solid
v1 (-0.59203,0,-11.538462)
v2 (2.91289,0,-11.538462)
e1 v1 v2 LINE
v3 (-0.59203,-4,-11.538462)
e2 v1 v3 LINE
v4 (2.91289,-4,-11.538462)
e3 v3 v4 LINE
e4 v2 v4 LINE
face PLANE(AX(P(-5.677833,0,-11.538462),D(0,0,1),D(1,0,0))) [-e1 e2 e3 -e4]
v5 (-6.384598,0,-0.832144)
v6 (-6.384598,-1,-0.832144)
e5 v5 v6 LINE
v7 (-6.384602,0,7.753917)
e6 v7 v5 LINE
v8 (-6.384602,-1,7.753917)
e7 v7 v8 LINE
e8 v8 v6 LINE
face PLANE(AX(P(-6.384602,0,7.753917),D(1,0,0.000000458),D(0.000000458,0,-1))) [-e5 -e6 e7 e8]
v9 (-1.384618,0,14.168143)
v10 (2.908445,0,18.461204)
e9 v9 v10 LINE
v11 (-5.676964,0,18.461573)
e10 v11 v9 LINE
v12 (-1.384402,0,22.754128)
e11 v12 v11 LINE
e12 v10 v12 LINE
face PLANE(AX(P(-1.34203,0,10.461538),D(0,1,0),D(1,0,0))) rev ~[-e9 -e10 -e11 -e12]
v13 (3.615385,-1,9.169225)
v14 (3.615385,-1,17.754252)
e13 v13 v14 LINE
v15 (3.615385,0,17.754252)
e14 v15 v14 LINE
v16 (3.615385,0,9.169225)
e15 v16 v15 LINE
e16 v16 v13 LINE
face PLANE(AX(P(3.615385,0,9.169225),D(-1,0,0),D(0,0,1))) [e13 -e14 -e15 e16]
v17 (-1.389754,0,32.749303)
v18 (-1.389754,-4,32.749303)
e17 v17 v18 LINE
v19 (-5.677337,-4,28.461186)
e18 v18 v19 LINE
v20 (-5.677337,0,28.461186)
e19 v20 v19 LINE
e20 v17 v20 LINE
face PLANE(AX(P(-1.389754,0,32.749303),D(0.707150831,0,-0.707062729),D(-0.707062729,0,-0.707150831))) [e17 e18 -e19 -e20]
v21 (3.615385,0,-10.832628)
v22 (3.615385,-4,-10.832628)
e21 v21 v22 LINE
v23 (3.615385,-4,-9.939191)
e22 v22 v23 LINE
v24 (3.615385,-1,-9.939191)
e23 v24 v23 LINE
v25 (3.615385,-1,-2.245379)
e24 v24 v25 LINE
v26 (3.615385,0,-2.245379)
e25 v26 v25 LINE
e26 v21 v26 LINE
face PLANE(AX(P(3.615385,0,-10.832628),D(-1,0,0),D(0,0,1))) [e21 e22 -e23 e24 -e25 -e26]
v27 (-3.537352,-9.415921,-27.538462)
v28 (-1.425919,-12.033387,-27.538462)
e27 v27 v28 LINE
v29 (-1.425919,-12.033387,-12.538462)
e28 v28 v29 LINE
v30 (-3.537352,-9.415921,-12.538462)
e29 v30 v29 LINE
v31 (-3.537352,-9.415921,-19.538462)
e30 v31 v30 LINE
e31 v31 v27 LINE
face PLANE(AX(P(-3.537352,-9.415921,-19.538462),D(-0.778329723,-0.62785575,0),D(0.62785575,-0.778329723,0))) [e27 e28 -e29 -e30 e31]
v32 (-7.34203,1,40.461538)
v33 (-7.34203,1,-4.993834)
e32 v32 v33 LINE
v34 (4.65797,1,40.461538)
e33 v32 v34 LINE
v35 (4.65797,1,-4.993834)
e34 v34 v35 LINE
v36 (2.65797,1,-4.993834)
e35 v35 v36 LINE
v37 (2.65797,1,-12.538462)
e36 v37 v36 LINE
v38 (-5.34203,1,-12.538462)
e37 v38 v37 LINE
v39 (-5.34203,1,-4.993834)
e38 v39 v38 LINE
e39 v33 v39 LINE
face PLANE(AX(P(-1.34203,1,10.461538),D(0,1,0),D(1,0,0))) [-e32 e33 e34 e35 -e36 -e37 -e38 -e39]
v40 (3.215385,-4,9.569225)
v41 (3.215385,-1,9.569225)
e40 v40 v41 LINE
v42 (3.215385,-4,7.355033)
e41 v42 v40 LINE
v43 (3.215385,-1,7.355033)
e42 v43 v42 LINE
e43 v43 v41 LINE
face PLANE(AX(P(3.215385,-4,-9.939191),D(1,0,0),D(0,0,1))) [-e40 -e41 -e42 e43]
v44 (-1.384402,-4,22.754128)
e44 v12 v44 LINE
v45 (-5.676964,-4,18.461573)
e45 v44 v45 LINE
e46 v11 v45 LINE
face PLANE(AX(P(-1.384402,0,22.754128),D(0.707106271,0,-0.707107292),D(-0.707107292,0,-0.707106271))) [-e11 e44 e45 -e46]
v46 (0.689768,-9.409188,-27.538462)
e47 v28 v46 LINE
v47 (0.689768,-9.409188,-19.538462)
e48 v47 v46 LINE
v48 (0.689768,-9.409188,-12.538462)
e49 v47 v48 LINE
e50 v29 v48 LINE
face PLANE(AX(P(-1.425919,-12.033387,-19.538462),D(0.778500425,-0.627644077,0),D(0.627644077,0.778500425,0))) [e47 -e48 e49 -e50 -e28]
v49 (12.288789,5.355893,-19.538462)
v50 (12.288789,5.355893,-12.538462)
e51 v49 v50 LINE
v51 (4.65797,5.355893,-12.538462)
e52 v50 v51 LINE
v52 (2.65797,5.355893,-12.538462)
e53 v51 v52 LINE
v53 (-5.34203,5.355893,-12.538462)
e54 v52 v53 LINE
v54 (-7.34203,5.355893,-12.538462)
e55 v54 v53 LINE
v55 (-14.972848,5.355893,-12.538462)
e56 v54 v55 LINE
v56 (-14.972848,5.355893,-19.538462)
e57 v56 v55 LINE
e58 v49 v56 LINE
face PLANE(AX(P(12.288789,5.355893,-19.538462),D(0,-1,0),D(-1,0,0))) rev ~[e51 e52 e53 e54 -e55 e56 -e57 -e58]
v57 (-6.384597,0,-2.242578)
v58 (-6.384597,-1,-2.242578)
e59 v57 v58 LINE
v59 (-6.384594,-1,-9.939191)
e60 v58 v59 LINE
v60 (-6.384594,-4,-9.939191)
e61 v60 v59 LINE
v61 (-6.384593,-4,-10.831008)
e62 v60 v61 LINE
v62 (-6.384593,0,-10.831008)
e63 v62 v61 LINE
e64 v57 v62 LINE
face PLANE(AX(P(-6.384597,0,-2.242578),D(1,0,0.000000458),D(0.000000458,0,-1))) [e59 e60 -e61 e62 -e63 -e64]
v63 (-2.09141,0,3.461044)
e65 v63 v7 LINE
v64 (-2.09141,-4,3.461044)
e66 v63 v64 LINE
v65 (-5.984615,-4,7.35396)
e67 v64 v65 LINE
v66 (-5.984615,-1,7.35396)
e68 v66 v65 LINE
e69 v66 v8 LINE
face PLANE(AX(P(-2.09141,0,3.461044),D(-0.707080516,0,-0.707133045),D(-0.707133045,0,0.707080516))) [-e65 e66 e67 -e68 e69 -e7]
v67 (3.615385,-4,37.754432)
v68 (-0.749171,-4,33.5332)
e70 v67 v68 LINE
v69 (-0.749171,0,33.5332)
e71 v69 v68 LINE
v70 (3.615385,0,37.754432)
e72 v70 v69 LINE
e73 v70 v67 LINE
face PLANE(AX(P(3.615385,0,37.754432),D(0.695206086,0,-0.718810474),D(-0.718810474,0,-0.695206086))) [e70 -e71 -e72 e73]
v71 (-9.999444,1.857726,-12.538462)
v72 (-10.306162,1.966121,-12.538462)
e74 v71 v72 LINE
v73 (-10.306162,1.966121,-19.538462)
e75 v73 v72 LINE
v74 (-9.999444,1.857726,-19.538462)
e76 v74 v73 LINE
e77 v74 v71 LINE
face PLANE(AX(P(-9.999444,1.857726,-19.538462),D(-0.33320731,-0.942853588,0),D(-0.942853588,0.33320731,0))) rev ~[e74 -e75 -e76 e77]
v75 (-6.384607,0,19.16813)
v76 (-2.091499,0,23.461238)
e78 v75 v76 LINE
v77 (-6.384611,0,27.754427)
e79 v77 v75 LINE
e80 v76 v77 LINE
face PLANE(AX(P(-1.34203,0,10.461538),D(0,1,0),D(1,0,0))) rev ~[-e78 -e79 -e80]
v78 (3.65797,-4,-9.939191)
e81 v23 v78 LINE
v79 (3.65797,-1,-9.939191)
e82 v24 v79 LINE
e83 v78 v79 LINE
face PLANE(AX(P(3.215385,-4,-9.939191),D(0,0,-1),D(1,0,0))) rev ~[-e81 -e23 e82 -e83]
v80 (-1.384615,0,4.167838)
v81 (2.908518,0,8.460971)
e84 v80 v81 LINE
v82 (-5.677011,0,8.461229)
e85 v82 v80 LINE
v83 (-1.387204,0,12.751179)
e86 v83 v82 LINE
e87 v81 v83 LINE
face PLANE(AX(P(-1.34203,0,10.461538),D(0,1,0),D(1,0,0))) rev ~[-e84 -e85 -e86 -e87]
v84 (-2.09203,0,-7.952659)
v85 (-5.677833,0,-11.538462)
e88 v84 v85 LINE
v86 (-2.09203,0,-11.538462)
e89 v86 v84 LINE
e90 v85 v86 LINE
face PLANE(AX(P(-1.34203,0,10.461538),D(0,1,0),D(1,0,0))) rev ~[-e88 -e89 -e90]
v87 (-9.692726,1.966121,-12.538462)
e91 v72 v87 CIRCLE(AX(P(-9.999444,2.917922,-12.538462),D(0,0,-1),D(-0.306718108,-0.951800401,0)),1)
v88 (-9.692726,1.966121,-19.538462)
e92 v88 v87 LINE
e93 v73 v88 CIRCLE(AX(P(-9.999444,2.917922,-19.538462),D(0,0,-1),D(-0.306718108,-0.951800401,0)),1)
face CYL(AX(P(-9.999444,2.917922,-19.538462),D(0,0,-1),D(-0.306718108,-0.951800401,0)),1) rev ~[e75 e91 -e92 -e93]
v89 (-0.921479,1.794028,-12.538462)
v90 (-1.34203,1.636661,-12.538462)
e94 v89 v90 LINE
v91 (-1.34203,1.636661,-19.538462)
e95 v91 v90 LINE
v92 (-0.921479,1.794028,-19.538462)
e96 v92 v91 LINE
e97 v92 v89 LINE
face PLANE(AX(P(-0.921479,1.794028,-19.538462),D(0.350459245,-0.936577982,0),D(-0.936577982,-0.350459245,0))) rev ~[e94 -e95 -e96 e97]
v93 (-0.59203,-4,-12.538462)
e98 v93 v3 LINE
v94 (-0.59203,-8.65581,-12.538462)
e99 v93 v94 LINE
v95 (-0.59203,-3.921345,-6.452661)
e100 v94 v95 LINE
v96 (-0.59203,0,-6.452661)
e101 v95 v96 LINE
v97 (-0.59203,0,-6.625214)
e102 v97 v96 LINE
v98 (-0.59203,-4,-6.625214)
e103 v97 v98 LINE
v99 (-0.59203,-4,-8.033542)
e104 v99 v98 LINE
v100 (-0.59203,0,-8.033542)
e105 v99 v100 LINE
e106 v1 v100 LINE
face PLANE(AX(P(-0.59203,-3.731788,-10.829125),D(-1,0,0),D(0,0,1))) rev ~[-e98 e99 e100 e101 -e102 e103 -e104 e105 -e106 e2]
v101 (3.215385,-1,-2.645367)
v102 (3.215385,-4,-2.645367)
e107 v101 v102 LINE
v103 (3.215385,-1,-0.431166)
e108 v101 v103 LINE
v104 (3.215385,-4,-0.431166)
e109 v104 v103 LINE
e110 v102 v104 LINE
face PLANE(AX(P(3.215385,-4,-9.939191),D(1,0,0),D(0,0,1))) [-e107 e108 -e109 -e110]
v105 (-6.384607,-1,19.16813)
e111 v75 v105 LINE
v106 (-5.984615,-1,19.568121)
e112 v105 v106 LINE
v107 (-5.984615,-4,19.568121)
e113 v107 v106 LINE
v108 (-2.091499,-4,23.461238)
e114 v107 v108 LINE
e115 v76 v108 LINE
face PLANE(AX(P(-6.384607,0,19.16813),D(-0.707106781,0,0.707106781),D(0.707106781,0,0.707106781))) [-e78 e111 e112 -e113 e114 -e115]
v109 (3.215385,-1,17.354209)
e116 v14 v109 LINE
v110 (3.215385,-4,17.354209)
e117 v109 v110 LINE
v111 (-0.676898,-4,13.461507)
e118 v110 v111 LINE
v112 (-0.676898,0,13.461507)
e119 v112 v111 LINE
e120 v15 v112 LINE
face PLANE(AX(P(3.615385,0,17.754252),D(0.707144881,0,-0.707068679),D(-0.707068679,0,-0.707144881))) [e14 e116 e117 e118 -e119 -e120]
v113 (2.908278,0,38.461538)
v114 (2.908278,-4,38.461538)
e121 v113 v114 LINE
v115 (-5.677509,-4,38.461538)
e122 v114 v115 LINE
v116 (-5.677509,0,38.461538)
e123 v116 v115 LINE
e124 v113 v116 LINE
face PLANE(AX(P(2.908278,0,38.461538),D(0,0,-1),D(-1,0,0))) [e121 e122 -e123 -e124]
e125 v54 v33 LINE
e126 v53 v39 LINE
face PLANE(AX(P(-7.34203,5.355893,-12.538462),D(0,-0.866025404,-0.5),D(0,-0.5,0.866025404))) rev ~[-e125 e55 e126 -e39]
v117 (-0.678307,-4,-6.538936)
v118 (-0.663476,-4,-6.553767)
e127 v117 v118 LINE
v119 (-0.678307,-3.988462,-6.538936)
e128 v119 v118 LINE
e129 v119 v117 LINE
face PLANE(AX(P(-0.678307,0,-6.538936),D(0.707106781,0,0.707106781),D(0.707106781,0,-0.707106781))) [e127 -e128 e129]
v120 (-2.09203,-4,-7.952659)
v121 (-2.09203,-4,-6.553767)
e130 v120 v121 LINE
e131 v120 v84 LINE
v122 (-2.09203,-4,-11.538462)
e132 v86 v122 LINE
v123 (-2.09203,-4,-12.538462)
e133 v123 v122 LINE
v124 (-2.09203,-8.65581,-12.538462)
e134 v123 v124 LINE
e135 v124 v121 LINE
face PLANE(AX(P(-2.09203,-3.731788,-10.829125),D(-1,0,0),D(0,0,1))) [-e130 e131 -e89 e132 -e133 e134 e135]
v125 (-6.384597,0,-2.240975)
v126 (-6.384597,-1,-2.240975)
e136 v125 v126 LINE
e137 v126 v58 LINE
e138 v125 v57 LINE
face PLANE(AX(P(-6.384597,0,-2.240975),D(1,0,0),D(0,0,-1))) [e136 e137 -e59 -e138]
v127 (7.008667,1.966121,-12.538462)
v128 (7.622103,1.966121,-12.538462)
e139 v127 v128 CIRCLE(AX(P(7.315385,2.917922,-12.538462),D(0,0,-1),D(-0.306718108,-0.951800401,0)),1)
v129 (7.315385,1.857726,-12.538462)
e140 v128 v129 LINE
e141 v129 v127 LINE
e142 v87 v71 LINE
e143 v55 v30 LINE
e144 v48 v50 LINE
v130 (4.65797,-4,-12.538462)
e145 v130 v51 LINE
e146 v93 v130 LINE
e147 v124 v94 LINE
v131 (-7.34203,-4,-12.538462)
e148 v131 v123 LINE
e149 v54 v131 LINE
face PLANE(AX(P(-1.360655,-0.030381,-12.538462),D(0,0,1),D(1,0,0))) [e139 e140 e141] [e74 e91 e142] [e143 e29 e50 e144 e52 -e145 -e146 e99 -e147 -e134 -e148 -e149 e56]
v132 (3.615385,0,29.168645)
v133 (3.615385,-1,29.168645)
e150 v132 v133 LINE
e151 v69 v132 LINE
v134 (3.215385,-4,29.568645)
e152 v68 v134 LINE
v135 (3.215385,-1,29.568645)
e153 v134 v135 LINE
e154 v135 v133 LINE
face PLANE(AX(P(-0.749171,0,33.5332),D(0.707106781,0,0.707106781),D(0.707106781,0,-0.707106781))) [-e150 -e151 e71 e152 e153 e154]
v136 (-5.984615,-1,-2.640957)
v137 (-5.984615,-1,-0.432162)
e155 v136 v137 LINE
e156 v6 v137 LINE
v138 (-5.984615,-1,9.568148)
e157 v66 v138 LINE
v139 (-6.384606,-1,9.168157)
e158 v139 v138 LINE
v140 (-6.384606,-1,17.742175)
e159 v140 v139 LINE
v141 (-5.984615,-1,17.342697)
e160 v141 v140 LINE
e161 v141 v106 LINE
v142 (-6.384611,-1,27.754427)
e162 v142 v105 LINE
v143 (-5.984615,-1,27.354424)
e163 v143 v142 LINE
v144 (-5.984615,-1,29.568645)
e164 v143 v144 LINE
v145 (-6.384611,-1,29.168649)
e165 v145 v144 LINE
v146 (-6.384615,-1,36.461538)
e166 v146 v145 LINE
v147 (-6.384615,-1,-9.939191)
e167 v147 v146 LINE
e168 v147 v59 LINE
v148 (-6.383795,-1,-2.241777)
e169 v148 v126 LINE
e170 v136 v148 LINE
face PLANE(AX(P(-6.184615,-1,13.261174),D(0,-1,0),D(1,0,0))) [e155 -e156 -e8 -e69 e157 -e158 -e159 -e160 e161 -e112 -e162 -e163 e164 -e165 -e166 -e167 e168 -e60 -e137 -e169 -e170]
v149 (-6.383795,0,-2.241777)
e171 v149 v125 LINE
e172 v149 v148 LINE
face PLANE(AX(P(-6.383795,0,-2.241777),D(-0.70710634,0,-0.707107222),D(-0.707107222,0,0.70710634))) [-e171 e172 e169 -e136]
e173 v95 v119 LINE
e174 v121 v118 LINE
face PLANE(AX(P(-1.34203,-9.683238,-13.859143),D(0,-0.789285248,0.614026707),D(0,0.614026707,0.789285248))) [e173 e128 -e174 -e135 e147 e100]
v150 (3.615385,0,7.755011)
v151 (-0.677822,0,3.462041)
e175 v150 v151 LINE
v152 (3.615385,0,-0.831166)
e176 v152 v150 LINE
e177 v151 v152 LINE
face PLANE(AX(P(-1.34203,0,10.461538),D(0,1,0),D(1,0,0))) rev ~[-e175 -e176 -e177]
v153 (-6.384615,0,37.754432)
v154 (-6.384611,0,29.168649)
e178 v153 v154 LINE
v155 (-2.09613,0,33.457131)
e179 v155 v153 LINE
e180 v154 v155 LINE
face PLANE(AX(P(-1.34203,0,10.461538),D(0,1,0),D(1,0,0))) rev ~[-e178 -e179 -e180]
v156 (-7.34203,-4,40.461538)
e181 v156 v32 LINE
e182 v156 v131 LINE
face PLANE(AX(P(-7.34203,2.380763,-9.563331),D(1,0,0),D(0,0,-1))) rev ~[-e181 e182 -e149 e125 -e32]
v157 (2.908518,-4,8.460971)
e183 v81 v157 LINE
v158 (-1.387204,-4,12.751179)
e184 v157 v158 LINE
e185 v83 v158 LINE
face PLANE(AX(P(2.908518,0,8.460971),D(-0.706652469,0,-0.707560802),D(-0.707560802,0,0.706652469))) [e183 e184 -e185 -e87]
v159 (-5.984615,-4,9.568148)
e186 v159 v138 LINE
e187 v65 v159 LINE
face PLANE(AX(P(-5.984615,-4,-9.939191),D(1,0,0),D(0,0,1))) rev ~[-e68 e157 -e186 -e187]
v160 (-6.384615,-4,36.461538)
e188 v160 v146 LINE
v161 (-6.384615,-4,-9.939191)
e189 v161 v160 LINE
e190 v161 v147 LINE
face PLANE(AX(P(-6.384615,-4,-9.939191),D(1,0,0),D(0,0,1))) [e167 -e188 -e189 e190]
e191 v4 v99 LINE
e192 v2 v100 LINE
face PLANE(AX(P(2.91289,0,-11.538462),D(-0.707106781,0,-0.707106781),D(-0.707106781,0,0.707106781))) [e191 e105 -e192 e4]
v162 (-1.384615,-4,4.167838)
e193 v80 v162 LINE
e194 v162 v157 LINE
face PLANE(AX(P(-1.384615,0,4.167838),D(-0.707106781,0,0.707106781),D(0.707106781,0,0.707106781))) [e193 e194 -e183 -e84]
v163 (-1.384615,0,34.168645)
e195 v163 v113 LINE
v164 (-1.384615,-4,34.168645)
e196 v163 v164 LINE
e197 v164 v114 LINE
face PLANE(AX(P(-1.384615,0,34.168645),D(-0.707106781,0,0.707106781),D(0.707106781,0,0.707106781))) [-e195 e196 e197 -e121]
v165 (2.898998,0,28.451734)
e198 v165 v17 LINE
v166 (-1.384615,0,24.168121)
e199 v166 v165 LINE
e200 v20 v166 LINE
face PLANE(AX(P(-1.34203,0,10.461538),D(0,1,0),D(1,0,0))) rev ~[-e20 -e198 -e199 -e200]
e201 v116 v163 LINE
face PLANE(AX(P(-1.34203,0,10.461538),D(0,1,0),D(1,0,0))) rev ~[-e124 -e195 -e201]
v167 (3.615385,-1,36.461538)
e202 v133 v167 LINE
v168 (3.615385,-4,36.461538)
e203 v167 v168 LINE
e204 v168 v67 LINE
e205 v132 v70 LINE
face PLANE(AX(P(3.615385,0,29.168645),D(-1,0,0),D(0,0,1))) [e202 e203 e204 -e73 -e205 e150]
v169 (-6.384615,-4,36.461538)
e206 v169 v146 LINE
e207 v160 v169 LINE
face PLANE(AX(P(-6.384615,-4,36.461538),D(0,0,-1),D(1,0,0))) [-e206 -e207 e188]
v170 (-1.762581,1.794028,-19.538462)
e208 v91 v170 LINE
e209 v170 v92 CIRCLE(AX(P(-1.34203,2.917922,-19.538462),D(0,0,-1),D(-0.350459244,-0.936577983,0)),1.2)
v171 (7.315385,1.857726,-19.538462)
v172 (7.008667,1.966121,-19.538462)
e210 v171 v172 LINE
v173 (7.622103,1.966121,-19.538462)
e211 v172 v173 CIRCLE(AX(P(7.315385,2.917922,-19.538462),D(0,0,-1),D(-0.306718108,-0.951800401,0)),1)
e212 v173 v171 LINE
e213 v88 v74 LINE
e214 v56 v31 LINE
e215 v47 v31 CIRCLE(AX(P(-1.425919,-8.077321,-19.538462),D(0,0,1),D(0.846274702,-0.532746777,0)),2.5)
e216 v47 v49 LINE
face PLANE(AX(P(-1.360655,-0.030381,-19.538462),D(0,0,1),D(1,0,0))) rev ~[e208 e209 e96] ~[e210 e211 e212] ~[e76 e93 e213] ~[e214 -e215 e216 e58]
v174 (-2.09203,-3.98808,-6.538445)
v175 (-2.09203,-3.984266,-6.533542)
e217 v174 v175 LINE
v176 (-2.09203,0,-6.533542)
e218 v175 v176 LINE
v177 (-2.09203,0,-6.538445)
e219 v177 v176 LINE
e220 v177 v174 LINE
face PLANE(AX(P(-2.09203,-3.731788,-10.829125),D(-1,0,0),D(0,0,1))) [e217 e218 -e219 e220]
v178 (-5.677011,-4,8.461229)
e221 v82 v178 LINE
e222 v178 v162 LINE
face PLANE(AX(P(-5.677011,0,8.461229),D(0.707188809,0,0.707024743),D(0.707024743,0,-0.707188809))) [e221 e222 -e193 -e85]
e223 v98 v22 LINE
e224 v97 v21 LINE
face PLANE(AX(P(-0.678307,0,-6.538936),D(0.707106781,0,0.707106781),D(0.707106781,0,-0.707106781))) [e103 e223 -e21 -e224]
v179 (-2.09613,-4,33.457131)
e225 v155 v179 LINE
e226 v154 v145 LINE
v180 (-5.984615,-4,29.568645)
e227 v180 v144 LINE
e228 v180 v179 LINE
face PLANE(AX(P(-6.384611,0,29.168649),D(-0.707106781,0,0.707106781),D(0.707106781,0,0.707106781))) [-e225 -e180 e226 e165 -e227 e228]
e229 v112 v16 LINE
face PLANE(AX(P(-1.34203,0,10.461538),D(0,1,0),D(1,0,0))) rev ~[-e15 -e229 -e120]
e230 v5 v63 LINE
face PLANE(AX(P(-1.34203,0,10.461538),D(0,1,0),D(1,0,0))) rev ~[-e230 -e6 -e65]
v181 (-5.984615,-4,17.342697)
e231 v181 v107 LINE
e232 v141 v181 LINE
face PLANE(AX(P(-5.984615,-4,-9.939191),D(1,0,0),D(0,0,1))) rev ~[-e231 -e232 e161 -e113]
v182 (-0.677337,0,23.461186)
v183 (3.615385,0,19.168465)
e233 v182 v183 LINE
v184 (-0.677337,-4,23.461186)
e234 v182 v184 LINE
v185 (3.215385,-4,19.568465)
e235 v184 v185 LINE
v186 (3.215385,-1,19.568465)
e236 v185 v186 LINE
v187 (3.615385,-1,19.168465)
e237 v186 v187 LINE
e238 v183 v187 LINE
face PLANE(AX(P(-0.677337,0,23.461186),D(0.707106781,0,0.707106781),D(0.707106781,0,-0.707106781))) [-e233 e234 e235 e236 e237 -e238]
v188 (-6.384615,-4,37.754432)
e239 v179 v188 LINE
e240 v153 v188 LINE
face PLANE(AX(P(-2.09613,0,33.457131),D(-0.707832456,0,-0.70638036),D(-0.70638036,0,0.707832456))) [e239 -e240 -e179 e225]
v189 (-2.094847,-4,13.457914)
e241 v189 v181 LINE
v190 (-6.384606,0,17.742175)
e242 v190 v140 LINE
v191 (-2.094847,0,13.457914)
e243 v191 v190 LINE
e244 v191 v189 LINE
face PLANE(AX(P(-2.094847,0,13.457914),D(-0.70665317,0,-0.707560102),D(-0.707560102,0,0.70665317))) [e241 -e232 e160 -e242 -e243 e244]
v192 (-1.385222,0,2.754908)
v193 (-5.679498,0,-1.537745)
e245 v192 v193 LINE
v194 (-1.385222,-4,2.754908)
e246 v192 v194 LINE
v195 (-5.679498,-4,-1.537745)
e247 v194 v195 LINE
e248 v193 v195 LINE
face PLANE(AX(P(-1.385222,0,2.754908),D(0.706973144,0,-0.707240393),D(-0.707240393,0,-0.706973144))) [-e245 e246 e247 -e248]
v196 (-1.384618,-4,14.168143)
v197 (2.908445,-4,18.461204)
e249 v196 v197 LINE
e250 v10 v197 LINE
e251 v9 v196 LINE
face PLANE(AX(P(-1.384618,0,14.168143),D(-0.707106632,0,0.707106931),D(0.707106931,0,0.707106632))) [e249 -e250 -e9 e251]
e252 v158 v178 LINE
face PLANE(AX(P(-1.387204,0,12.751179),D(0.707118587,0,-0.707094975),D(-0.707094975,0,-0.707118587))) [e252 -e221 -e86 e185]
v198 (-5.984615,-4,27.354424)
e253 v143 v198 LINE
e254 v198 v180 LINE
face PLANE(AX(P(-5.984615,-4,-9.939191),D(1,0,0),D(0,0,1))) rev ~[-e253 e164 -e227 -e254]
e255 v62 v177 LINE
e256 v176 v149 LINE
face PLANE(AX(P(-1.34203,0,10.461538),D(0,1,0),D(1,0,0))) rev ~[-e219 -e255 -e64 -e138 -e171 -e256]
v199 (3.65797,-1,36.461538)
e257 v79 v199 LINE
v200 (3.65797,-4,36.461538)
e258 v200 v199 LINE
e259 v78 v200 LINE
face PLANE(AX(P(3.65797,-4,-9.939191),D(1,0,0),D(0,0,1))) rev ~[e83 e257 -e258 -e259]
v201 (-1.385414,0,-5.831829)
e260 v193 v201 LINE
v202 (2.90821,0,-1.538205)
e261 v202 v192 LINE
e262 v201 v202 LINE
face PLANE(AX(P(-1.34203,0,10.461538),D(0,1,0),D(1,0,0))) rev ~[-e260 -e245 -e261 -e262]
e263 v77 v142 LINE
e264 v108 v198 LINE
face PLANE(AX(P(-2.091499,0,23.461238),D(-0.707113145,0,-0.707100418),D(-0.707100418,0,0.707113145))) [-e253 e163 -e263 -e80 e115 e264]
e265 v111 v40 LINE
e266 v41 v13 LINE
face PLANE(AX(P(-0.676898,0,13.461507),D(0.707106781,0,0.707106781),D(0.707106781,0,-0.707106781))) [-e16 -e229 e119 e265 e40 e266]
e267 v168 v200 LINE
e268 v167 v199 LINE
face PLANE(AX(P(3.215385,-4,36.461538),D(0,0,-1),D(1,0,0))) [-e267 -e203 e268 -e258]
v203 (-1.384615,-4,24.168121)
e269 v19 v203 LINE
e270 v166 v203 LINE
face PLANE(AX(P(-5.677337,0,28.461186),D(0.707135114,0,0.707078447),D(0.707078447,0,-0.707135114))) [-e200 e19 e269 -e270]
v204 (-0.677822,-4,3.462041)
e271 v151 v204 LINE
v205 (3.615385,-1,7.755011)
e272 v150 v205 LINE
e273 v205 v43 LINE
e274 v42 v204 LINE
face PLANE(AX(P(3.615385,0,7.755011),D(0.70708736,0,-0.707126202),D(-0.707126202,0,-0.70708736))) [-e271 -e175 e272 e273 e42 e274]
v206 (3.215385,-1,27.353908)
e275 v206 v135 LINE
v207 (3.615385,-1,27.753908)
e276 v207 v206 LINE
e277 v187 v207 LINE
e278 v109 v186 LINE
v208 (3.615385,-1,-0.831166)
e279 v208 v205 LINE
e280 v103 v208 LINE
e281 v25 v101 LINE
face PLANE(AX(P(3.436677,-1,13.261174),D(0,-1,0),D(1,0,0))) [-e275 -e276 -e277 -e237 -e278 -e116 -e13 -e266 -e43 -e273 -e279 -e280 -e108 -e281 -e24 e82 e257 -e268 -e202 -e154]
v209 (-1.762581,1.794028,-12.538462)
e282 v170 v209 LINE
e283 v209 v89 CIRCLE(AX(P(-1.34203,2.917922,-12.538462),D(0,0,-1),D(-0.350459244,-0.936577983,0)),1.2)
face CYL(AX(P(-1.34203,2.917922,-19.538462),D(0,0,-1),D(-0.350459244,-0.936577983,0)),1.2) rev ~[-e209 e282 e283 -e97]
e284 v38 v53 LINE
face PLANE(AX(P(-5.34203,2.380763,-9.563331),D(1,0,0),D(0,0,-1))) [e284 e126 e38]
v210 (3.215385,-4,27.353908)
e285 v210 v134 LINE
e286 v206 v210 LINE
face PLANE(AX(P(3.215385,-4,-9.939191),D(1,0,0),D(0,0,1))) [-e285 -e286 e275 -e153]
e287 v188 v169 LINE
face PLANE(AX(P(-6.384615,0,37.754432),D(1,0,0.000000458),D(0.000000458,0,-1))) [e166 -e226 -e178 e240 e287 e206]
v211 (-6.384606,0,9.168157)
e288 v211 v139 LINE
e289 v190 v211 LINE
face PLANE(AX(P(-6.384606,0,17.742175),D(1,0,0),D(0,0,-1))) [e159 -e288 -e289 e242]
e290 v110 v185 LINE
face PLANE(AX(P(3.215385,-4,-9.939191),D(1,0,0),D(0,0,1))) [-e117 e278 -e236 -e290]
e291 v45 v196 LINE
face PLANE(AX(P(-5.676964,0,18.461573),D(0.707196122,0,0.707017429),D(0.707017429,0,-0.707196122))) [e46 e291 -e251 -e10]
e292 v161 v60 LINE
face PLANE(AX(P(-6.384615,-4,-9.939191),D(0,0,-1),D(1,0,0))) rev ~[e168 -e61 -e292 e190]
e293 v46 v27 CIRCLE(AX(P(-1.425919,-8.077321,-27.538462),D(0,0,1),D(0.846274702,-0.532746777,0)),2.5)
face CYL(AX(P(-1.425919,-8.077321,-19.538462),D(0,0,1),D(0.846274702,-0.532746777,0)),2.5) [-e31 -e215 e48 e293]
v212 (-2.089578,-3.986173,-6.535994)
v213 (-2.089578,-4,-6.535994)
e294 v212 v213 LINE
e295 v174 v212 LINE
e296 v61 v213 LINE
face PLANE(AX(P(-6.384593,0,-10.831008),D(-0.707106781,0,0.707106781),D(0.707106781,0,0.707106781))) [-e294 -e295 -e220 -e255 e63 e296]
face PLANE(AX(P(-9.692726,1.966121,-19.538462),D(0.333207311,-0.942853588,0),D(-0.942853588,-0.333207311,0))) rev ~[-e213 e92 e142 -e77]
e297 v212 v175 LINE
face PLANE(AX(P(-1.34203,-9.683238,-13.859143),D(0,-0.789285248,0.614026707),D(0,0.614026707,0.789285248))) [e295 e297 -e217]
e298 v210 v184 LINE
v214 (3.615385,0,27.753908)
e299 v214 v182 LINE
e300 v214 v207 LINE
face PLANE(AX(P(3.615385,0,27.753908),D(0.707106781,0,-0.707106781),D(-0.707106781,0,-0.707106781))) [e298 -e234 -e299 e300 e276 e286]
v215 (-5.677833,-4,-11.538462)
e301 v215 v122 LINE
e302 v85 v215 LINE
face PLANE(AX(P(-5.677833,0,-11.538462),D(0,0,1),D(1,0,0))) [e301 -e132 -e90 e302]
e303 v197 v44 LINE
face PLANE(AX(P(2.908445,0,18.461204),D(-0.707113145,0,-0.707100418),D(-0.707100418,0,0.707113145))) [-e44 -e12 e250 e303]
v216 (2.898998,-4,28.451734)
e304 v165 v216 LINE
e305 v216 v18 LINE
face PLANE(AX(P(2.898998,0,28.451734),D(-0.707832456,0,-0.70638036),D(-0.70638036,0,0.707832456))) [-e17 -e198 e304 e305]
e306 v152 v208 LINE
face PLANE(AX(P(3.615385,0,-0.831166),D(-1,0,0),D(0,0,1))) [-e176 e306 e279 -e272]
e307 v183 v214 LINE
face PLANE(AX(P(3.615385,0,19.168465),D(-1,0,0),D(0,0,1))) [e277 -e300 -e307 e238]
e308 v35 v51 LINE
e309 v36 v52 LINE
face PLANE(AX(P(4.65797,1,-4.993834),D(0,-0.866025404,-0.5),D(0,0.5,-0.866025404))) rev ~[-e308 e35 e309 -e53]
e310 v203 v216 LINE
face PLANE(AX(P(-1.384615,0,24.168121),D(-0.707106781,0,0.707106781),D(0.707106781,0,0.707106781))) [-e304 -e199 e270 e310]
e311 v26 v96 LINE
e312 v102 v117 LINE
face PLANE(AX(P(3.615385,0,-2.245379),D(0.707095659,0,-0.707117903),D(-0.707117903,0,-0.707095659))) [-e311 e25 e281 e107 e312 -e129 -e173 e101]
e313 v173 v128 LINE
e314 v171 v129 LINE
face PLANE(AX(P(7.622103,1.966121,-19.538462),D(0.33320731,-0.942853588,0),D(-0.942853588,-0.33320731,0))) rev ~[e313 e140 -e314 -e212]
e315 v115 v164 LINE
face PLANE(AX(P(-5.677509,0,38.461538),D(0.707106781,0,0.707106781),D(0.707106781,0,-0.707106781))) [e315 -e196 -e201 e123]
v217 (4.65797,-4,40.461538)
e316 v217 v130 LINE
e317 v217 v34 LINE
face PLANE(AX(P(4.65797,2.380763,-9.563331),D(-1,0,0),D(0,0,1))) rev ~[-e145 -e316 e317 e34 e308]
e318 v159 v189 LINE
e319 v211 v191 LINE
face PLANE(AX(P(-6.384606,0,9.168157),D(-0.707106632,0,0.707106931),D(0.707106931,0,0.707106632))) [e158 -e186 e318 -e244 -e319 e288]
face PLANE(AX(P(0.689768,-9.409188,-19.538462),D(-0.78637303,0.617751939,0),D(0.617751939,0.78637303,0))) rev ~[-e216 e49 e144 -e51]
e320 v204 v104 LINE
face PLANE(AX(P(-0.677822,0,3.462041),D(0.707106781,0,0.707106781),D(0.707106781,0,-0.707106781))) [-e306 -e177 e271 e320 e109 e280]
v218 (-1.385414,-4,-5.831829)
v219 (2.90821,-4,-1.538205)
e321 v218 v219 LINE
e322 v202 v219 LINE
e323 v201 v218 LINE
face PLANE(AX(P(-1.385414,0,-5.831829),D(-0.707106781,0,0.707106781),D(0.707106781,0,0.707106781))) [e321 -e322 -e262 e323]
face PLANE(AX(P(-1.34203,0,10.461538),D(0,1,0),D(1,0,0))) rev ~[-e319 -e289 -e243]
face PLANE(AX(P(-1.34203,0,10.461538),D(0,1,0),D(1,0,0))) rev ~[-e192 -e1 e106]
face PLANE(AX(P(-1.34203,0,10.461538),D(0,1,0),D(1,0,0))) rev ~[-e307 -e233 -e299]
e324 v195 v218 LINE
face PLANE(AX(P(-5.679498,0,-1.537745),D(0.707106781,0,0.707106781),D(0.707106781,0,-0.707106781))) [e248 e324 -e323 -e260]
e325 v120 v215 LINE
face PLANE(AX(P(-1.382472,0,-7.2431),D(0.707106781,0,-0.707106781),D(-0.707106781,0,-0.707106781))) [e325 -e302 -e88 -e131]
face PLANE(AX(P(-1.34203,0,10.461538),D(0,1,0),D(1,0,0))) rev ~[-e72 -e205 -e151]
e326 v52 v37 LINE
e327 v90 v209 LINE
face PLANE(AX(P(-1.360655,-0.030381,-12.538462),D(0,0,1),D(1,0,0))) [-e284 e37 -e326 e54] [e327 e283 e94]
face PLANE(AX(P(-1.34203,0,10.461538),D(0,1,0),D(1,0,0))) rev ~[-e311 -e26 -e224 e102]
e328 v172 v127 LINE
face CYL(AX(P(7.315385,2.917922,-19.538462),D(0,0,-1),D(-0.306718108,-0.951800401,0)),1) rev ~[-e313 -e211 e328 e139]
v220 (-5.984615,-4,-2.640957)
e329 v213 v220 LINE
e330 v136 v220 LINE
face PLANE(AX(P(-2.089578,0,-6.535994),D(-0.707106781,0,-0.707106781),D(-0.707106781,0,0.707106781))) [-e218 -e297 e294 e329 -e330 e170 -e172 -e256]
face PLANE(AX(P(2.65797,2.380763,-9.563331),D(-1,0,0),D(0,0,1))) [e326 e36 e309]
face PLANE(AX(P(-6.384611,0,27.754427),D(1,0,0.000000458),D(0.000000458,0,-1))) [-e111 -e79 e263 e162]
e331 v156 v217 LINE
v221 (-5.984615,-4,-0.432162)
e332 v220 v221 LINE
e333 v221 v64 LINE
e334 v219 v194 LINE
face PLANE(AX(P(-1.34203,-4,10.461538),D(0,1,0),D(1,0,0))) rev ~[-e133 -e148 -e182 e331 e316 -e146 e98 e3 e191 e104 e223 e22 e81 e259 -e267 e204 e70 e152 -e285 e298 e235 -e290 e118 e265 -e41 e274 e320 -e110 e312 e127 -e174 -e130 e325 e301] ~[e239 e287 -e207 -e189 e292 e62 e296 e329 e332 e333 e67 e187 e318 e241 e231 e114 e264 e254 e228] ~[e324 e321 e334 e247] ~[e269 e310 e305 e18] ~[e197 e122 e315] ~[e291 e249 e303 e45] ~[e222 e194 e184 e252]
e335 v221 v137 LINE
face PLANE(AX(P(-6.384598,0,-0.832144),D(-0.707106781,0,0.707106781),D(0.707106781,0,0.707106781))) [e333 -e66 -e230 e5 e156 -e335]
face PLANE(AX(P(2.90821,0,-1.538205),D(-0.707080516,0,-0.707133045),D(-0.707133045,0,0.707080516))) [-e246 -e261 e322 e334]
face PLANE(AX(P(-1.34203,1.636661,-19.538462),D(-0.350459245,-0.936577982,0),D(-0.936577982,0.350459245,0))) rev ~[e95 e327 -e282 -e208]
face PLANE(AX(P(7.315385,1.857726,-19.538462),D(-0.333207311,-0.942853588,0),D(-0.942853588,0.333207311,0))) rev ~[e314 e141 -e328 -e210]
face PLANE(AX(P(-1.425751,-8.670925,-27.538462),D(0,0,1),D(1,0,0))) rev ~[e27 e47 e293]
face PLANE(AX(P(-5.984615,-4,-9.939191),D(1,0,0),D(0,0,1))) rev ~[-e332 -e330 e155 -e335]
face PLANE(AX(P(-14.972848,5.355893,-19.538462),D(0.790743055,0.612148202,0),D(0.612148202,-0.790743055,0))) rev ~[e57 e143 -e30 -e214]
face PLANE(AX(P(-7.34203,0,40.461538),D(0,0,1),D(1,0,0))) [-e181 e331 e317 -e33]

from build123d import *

# Parameters (mm, degrees)
SKETCH1_W            = 12
SKETCH1_H            = 60
BOSS_EXTRUDE1_DEPTH  = 1
SKETCH4_W            = 12
SKETCH4_H            = 60
BOSS_EXTRUDE5_DEPTH  = 4
SKETCH3_W            = 0.442585723
SKETCH3_H            = 46.400729484
SKETCH3_W_2          = 0.4
CUT_EXTRUDE1_DEPTH   = 3
BOSS_EXTRUDE6_DEPTH  = 7
BOSS_EXTRUDE11_DEPTH = 8
BOSS_EXTRUDE12_DEPTH = 2
BOSS_EXTRUDE13_DEPTH = 0.75
BOSS_EXTRUDE15_DEPTH = 2


with BuildPart() as part:
    # Sketch1 → Boss-Extrude1 (new body)
    with BuildSketch(Plane(origin=(0, 0, 0), x_dir=(1, 0, 0), z_dir=(0, 1, 0))):
        with Locations((-1.342029662, -10.461538462)):
            Rectangle(SKETCH1_W, SKETCH1_H)
    extrude(amount=BOSS_EXTRUDE1_DEPTH)

    # Sketch4 → Boss-Extrude5 (add)
    with BuildSketch(Plane(origin=(0, 0, 0), x_dir=(1, 0, 0), z_dir=(0, 1, 0))):
        with Locations((-1.342029662, -10.461538462)):
            Rectangle(SKETCH4_W, SKETCH4_H)
        Polygon((-2.096130055, -33.457130572), (-6.384615385, -37.75443168), (-6.384611455, -29.168649172), align=None, mode=Mode.SUBTRACT)
        Polygon((2.908277834, -38.461538462), (-5.677508603, -38.461538462), (-1.384615385, -34.168645243), align=None, mode=Mode.SUBTRACT)
        Polygon((-1.38975443, -32.749302861), (-5.677336591, -28.461186458), (-1.384615385, -24.168121227), (2.898997747, -28.451734358), align=None, mode=Mode.SUBTRACT)
        Polygon((-2.091498793, -23.461237818), (-6.384610808, -27.754427103), (-6.384606877, -19.168129734), align=None, mode=Mode.SUBTRACT)
        Polygon((-1.384401984, -22.754128282), (-5.676963509, -18.461572954), (-1.384618257, -14.16814285), (2.90844487, -18.461204162), align=None, mode=Mode.SUBTRACT)
        Polygon((-2.094846949, -13.457914458), (-6.38460623, -17.742175237), (-6.38460623, -9.168156991), align=None, mode=Mode.SUBTRACT)
        Polygon((3.615384615, -29.168645243), (3.615384615, -37.75443168), (-0.749170508, -33.533200366), align=None, mode=Mode.SUBTRACT)
        Polygon((3.615384615, -19.168465252), (3.615384615, -27.753907665), (-0.677336591, -23.461186458), align=None, mode=Mode.SUBTRACT)
        Polygon((3.615384615, -17.754251693), (-0.676897524, -13.461506969), (3.615384615, -9.169224829), align=None, mode=Mode.SUBTRACT)
        Polygon((-6.384597723, 0.832144172), (-2.091409836, -3.461043715), (-6.384601653, -7.753916614), align=None, mode=Mode.SUBTRACT)
        Polygon((2.908517821, -8.460971372), (-1.387204346, -12.751178894), (-5.677010576, -8.461229413), (-1.384615385, -4.167838166), align=None, mode=Mode.SUBTRACT)
        Polygon((-1.385221722, -2.75490806), (-5.679497842, 1.537745361), (-1.38541394, 5.831829263), (2.908210299, 1.538205024), align=None, mode=Mode.SUBTRACT)
        Polygon((-2.089578329, 6.535993652), (-6.3837953, 2.241776681), (-6.384597078, 2.240974904), (-6.384597078, 2.242578156), (-6.384593146, 10.83100847), align=None, mode=Mode.SUBTRACT)
        Polygon((-5.677832652, 11.538461538), (2.912889557, 11.538461538), (-1.382471548, 7.243100433), align=None, mode=Mode.SUBTRACT)
        Polygon((3.615384615, -7.755011267), (-0.677821818, -3.462040655), (3.615384615, 0.831165778), align=None, mode=Mode.SUBTRACT)
        Polygon((3.615384615, 2.245379341), (-0.678307159, 6.538936044), (3.615384615, 10.832627818), align=None, mode=Mode.SUBTRACT)
    extrude(amount=-BOSS_EXTRUDE5_DEPTH)

    # Sketch3 → Cut-Extrude1 (cut)
    with BuildSketch(Plane.XZ.offset(4)):
        with Locations((3.436677476, 13.26117372)):
            Rectangle(SKETCH3_W, SKETCH3_H)
        with Locations((-6.184615385, 13.26117372)):
            Rectangle(SKETCH3_W_2, SKETCH3_H)
    extrude(amount=-CUT_EXTRUDE1_DEPTH, mode=Mode.SUBTRACT)

    # Sketch5 → Boss-Extrude6 (add)
    with BuildSketch(Plane(origin=(0, 0, -19.538461538), x_dir=(-1, 0, 0), z_dir=(0, 0, -1))):
        Polygon((-12.288789064, 5.355892869), (14.972848388, 5.355892869), (3.537352374, -9.415920613), (1.425918842, -12.033387248), (-0.689767913, -9.409188123), align=None)
        with BuildLine():
            Line((9.692725832, 1.966121199), (9.999443939, 1.857726092))
            Line((9.999443939, 1.857726092), (10.306162047, 1.966121199))
            ThreePointArc((10.306162047, 1.966121199), (9.999443939, 3.917921599), (9.692725832, 1.966121199))
        make_face(mode=Mode.SUBTRACT)
        with BuildLine():
            Line((-7.622102723, 1.966121199), (-7.315384615, 1.857726092))
            Line((-7.315384615, 1.857726092), (-7.008666508, 1.966121199))
            ThreePointArc((-7.008666508, 1.966121199), (-7.315384615, 3.917921599), (-7.622102723, 1.966121199))
        make_face(mode=Mode.SUBTRACT)
        with BuildLine():
            Line((0.921478569, 1.79402802), (1.342029662, 1.636661499))
            Line((1.342029662, 1.636661499), (1.762580755, 1.79402802))
            ThreePointArc((1.762580755, 1.79402802), (1.342029662, 4.117921599), (0.921478569, 1.79402802))
        make_face(mode=Mode.SUBTRACT)
    extrude(amount=-BOSS_EXTRUDE6_DEPTH)

    # Sketch5<3> → Boss-Extrude11 (add)
    with BuildSketch(Plane(origin=(0, 0, -19.538461538), x_dir=(-1, 0, 0), z_dir=(0, 0, -1))):
        with BuildLine():
            Line((3.537352374, -9.415920613), (1.425918842, -12.033387248))
            Line((1.425918842, -12.033387248), (-0.689767913, -9.409188123))
            ThreePointArc((-0.689767913, -9.409188123), (1.429900561, -5.57732435), (3.537352374, -9.415920613))
        make_face()
    extrude(amount=BOSS_EXTRUDE11_DEPTH)

    # Sketch11 → Boss-Extrude12 (add)
    with BuildSketch(Plane.ZY.offset(7.342029662)):
        Polygon((-12.538461538, 5.355892869), (-4.993833778, 1), (-12.538461538, 1), align=None)
    extrude(amount=-BOSS_EXTRUDE12_DEPTH)

    # Sketch12 → Boss-Extrude13 (add, symmetric)
    with BuildSketch(Plane.ZY.offset(1.342029662)):
        Polygon((-13.859142787, 0.316720052), (-13.859142787, -4.418628297), (-13.859142787, -9.68323793), (-6.410996577, -3.888931374), (-6.410996577, 0.316720052), align=None)
    extrude(amount=BOSS_EXTRUDE13_DEPTH, both=True)

    # Sketch14 → Boss-Extrude15 (add)
    with BuildSketch(Plane(origin=(4.657970338, 0, 0), x_dir=(0, 0, -1), z_dir=(1, 0, 0))):
        Polygon((4.993833778, 1), (12.538461538, 5.355892869), (12.538461538, 1), align=None)
    extrude(amount=-BOSS_EXTRUDE15_DEPTH)


solid = part.part
